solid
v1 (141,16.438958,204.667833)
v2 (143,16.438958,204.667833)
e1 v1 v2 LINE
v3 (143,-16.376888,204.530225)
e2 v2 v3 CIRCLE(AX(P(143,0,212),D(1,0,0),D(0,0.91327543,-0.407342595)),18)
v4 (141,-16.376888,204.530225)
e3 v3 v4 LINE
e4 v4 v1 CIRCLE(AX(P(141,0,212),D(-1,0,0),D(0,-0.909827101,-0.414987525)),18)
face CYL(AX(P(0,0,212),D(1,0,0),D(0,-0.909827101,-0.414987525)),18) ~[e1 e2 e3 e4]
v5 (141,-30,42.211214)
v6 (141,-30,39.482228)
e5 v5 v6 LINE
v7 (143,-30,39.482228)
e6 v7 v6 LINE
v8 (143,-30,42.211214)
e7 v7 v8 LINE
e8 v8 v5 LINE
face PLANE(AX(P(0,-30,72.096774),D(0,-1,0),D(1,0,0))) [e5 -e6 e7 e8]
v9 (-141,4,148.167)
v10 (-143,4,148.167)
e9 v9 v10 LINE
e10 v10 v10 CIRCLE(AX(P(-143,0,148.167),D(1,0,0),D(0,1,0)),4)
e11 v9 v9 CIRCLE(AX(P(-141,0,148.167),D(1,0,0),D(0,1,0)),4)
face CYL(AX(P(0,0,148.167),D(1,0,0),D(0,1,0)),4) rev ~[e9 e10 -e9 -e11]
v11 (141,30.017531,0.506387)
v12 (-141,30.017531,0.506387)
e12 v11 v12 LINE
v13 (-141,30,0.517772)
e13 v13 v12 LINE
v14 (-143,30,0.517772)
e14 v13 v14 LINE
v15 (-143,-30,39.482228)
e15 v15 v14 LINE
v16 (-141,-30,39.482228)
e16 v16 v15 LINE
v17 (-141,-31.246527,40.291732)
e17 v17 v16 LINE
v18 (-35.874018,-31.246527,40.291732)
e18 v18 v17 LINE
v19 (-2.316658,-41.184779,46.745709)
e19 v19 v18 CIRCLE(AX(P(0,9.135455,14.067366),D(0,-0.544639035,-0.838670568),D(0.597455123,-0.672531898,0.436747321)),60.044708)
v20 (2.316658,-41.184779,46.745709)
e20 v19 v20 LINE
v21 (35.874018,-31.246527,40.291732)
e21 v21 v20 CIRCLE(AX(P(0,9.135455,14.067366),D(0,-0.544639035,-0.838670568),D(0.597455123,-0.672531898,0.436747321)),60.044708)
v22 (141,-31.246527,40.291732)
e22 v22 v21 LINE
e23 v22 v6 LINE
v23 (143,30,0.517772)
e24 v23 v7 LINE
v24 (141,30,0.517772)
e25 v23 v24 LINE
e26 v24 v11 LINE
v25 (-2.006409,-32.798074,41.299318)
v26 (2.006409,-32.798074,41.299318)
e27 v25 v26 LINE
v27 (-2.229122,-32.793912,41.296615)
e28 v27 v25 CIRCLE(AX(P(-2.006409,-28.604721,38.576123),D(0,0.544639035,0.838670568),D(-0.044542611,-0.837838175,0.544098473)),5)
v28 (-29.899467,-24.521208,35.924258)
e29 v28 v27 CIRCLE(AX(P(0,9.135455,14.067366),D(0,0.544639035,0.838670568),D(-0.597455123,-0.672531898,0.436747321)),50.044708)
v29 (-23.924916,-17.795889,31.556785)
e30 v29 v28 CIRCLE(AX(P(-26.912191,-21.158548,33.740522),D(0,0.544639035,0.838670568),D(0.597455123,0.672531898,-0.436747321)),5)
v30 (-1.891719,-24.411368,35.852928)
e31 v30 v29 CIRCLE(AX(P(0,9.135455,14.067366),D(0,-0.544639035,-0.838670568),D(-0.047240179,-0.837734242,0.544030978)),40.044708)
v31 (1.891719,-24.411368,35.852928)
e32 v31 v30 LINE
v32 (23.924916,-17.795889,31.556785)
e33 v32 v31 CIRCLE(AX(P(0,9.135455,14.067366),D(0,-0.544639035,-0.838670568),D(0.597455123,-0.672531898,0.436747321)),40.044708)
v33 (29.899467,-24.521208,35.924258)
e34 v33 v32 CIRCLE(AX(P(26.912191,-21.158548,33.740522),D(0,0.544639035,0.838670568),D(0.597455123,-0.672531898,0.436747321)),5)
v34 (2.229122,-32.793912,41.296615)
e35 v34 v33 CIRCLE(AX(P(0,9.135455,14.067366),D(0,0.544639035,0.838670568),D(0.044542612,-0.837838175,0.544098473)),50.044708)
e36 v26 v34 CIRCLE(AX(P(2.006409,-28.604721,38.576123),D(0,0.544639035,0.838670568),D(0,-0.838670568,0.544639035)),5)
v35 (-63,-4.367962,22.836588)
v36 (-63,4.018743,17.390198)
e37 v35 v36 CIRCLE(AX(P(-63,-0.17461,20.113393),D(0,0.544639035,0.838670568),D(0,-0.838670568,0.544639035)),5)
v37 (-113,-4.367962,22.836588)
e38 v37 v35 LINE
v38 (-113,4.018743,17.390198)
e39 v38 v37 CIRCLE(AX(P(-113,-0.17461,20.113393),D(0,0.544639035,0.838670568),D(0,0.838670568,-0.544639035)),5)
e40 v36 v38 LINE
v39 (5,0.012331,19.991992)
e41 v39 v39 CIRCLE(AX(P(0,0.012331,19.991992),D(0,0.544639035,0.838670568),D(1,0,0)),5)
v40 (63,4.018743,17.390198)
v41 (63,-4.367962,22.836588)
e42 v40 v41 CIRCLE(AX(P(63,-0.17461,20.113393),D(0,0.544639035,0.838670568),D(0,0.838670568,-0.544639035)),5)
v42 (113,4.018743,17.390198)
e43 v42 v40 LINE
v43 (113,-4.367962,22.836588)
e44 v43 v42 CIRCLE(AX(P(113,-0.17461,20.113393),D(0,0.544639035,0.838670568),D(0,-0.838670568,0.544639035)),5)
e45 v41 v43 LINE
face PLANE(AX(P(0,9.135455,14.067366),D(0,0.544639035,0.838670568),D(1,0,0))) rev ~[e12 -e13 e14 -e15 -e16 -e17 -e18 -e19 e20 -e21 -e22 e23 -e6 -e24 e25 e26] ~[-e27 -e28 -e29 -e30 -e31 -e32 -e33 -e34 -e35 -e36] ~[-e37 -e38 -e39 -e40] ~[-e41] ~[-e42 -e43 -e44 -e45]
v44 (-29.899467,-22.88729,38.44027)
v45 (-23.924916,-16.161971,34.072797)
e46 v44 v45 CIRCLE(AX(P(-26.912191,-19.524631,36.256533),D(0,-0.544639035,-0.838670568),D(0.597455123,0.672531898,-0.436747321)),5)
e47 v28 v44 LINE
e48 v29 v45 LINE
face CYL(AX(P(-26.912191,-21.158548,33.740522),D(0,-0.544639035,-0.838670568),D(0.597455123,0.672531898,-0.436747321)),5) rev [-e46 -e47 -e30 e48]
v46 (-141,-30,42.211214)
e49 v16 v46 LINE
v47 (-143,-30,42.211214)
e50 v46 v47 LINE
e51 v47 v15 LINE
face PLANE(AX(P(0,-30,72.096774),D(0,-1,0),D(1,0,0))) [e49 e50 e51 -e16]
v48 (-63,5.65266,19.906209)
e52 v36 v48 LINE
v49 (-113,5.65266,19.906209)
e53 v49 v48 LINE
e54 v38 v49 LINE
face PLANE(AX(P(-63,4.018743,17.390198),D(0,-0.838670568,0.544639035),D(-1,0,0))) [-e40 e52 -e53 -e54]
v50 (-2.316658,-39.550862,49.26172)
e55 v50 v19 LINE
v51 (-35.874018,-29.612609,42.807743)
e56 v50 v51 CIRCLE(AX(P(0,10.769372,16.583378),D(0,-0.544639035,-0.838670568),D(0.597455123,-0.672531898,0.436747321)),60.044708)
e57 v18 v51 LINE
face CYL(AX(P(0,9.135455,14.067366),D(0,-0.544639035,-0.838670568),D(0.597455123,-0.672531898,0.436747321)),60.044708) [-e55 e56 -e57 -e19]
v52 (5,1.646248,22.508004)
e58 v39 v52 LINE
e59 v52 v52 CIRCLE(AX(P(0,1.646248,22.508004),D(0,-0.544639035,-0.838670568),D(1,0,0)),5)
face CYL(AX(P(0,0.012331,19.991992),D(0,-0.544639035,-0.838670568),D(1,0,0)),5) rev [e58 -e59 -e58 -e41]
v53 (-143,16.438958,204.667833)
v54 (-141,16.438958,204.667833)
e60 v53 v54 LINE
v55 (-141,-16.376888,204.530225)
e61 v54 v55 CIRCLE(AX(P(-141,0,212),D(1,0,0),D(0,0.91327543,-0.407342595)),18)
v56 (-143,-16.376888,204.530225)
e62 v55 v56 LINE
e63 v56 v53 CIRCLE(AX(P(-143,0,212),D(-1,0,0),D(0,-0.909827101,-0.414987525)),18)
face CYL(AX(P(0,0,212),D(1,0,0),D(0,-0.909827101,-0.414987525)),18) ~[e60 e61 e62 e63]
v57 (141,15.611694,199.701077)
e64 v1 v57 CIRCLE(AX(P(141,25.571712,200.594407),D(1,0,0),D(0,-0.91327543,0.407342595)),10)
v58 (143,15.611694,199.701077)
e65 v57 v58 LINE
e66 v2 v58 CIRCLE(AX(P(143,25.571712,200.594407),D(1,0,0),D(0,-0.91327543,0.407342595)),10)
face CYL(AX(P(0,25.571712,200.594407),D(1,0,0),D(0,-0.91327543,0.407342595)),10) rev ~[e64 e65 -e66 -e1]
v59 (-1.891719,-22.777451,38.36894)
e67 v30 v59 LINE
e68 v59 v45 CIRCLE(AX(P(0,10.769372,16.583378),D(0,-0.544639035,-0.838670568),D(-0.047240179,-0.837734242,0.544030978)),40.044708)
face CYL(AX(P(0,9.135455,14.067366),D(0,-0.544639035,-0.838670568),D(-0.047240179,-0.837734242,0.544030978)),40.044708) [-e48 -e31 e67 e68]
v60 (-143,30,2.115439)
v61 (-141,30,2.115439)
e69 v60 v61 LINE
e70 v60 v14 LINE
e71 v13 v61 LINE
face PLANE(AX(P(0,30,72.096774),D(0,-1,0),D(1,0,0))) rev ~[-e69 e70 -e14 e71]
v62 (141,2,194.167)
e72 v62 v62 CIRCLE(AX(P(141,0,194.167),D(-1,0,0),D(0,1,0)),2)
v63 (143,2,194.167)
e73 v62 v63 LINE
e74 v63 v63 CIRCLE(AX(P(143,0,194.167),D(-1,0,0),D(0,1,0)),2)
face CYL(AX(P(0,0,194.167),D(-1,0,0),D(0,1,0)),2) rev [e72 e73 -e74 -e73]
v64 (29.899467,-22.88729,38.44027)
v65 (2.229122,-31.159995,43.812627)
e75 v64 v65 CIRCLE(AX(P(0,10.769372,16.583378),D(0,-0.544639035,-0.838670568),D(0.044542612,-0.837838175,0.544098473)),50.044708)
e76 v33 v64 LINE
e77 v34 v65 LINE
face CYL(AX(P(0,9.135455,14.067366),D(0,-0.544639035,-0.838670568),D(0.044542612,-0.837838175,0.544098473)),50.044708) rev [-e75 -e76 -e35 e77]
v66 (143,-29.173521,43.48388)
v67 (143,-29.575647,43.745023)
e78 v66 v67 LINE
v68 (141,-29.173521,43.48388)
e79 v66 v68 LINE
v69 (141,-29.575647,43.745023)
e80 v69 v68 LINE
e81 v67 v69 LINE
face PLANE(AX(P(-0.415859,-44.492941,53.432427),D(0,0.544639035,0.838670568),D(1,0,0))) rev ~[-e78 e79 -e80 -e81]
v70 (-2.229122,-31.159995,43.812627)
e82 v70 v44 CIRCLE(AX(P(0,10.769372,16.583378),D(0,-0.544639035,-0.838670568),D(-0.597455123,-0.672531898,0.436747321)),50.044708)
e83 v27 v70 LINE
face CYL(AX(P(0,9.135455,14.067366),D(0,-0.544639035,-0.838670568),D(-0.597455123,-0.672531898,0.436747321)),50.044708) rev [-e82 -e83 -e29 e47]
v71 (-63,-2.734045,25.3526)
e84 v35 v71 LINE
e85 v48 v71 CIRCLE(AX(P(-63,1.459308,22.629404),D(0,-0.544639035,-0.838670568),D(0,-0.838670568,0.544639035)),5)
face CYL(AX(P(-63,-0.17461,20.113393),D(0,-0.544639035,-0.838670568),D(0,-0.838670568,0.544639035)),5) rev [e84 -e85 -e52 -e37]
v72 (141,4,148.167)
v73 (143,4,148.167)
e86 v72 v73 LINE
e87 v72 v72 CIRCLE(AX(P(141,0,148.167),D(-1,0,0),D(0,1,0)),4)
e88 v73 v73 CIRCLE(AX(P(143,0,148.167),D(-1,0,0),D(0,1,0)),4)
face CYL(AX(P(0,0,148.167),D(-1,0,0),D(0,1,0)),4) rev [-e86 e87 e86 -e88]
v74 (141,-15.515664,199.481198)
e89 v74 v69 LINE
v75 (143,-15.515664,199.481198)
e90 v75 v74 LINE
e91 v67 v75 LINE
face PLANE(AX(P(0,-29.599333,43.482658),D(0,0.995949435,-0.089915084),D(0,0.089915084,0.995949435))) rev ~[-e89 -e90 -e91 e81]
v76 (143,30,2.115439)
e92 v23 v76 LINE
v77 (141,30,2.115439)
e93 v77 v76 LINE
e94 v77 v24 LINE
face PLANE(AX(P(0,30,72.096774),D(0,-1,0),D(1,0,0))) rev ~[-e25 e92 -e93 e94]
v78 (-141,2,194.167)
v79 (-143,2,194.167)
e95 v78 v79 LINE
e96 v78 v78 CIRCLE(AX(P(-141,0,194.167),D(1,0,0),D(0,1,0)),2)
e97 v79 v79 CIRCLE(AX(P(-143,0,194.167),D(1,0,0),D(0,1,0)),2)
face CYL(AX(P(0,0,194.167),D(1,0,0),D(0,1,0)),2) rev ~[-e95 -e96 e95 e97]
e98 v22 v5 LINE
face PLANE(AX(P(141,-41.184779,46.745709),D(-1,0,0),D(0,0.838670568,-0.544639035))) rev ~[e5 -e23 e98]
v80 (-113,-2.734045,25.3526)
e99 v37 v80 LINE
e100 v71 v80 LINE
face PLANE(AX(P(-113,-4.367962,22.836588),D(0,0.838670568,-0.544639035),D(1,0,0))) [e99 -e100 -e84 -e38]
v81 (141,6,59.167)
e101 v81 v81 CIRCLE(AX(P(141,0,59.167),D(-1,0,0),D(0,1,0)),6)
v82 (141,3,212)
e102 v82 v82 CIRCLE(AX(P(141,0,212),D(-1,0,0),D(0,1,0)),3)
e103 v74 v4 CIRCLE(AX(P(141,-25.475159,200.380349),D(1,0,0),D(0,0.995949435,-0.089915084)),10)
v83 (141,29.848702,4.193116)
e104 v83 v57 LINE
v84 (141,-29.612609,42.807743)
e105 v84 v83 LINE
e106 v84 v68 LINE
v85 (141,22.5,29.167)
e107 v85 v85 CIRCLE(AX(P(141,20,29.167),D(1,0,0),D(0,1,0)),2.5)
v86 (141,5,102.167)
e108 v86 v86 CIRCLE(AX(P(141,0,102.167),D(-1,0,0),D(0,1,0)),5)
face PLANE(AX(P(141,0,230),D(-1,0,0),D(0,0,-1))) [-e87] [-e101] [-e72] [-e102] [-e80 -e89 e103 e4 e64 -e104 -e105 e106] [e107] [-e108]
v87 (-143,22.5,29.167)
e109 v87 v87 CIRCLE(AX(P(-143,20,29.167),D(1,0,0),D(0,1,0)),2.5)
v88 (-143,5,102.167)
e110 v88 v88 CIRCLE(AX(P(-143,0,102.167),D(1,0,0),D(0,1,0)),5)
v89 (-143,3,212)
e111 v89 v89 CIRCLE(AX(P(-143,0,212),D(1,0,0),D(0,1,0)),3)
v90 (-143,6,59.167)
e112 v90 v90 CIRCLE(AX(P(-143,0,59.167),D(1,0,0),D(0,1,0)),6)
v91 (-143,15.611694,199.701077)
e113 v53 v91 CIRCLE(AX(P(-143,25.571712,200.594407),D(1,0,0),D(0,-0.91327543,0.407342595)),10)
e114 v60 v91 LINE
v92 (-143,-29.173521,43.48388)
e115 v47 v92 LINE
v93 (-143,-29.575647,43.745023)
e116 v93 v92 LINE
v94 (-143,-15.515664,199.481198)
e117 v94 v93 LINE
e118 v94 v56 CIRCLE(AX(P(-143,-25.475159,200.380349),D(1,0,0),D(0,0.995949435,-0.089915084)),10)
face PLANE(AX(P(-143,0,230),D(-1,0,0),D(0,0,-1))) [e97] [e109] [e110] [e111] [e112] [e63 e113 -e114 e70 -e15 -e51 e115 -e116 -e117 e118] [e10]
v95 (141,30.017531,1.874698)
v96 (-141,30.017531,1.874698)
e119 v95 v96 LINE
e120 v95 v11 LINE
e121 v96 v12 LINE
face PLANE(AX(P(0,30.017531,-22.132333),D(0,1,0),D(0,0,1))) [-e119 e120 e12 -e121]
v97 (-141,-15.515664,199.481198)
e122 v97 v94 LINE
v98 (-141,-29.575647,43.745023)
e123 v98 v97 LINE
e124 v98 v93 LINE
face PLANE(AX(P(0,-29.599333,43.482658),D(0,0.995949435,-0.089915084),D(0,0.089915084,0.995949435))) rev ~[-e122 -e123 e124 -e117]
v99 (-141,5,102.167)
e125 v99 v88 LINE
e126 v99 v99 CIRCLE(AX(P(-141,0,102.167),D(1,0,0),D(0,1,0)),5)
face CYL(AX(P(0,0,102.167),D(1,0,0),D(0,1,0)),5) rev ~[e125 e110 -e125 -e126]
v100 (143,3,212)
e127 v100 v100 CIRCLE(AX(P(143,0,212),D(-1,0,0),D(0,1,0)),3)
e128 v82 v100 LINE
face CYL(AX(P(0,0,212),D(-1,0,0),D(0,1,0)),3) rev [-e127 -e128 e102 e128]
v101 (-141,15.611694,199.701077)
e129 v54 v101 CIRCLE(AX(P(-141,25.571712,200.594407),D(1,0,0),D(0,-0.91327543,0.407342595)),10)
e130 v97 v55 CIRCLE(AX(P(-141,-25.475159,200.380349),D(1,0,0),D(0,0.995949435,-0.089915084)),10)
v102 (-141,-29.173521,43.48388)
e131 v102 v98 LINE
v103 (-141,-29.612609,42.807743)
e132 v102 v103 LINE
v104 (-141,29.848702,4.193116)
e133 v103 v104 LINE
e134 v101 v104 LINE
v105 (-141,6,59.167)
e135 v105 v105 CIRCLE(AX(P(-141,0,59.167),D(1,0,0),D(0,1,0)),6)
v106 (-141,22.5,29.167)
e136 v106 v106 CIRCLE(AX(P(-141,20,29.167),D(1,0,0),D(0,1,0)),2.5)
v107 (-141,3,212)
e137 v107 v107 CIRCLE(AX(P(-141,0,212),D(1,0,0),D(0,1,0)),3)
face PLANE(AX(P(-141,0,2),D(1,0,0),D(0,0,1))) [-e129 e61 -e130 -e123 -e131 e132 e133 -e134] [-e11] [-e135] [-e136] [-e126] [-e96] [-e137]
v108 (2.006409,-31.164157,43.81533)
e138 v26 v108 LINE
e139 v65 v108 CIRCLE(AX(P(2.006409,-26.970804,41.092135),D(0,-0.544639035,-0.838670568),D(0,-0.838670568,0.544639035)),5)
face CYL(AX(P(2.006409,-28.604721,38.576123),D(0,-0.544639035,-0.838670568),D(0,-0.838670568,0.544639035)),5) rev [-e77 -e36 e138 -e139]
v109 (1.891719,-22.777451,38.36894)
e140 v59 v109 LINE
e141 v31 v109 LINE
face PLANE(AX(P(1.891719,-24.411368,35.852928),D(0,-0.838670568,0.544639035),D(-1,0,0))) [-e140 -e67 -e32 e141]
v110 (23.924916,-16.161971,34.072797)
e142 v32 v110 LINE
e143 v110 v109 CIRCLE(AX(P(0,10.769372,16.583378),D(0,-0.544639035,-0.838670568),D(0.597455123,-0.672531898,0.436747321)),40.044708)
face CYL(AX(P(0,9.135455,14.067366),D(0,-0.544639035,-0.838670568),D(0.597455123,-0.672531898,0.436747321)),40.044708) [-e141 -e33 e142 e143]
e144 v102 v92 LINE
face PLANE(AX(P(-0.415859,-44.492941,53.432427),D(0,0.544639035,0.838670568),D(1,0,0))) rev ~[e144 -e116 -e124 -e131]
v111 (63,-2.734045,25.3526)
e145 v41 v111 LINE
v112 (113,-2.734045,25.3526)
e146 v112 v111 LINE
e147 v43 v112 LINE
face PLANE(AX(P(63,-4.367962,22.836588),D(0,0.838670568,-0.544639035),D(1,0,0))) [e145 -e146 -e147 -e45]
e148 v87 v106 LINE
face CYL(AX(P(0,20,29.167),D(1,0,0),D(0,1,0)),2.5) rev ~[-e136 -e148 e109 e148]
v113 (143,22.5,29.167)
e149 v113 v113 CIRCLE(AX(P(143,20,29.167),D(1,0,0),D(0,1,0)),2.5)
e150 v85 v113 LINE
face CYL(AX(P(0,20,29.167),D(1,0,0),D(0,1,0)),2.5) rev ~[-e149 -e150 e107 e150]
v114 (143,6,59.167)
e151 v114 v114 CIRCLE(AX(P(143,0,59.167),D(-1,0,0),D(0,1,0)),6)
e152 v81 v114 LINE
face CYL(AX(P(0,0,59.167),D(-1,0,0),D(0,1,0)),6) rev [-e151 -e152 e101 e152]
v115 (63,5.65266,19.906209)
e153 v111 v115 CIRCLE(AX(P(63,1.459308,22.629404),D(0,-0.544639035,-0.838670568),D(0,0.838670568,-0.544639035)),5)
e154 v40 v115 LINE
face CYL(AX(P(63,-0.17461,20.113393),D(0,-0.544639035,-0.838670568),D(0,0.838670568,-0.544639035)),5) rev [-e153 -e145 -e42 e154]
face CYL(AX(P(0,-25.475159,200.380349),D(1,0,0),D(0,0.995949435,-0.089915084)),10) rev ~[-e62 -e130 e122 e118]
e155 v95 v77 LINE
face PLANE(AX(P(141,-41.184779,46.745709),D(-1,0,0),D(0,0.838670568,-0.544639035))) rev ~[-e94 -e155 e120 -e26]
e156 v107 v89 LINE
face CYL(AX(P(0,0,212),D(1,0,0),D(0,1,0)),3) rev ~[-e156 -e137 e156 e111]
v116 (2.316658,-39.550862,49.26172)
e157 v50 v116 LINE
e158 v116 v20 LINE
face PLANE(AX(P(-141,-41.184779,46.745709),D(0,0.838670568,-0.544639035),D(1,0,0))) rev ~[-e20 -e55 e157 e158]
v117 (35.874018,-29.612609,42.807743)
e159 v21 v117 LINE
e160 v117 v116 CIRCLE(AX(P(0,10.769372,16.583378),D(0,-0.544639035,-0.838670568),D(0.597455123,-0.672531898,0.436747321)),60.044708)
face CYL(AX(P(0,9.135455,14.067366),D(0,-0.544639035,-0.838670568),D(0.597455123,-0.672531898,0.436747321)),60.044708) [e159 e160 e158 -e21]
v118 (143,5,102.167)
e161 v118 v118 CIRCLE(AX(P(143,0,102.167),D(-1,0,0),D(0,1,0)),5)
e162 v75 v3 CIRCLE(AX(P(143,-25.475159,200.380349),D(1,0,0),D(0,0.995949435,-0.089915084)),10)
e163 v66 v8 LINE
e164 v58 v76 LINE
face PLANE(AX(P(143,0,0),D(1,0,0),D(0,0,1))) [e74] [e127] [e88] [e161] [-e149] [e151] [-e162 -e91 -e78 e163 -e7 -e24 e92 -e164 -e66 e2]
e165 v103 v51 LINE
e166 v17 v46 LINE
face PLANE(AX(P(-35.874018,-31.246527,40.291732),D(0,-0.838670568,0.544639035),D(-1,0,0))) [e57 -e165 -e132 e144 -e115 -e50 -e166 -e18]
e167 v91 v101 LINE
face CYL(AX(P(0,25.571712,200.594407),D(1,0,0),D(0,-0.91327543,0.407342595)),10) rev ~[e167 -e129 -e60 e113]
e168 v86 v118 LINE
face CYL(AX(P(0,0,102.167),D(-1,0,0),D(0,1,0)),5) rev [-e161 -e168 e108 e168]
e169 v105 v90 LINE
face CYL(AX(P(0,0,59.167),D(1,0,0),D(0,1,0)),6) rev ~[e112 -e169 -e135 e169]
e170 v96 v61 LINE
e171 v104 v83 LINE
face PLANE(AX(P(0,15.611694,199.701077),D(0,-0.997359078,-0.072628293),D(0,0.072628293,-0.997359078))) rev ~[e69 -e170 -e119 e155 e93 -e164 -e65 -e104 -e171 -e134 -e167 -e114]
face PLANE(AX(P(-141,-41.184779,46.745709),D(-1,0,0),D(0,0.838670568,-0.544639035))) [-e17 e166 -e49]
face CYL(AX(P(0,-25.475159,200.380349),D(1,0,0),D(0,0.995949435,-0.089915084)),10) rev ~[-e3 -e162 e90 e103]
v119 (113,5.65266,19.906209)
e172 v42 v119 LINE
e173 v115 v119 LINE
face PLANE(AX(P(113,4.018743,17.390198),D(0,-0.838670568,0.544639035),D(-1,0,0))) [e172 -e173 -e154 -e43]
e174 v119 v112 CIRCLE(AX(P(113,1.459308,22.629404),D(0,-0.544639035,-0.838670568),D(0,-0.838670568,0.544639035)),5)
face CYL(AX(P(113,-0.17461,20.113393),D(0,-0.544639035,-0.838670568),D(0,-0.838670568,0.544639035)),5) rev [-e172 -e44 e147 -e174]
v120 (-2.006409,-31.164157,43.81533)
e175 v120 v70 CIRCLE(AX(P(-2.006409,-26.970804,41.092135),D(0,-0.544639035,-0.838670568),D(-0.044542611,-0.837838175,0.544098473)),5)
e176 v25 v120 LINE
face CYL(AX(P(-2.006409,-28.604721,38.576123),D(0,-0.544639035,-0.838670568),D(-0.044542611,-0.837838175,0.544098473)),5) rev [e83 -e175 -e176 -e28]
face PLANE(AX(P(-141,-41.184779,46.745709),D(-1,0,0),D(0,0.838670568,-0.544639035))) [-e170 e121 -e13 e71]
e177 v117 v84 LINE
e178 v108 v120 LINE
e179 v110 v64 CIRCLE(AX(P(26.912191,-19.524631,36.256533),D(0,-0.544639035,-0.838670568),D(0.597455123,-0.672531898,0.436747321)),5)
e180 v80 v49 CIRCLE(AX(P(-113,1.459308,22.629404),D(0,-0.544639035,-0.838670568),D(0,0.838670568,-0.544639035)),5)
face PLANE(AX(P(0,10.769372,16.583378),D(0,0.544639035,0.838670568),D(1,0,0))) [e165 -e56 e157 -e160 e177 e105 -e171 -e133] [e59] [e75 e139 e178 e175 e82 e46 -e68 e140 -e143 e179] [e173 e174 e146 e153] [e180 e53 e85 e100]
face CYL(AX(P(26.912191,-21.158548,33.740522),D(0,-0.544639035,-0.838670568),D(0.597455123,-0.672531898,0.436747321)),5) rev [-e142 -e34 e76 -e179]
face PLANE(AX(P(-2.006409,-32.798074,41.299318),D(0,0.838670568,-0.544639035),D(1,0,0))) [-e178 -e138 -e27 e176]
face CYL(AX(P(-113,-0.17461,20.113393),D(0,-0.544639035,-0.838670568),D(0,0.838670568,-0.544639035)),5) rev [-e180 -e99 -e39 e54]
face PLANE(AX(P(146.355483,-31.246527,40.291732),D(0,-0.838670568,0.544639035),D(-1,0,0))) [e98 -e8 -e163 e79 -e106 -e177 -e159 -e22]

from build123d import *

# Parameters (mm, degrees)
F1_DEPTH  = 30
F5_W      = 282
F5_H      = 120
F6_DEPTH  = 3
F7_W      = 43.7729824334
F7_H      = 28.8367732428
F8_DEPTH  = 200
F9_W      = 426.6595542431
F9_H      = 302.5457262993
F10_DEPTH = 178.83968
F12_DEPTH = 3.8062
F13_R     = 5
F14_DEPTH = 5.03518
F16_DEPTH = 250
F17_R     = 3
F17_R_2   = 2
F17_R_3   = 4
F17_R_4   = 5
F17_R_5   = 6
F17_R_6   = 2.5
F18_DEPTH = 160


with BuildPart() as f1:
    # F0 (on Front) → F1 (new body, symmetric)
    with BuildSketch(Plane.XZ):
        Polygon((-143, 230), (-143, 0), (143, 0), (143, 230), (141, 230), (141, 2), (-141, 2), (-141, 230), align=None)
    extrude(amount=F1_DEPTH, both=True)

    # F5 (on line) → F6 (join)
    with BuildSketch(Plane(origin=(0, 9.1354545764, 14.0673664308), x_dir=(1, 0, 0), z_dir=(0, 0.544639035, 0.8386705679))):
        Rectangle(F5_W, F5_H)
    extrude(amount=F6_DEPTH)

    # F7 (on Right) → F8 (cut, symmetric)
    with BuildSketch(Plane.YZ):
        with Locations((51.9040221355, -7.7139467467)):
            Rectangle(F7_W, F7_H)
    extrude(amount=F8_DEPTH, both=True, mode=Mode.SUBTRACT)

    # F9 (on line) → F10 (cut)
    with BuildSketch(Plane(origin=(0, 9.1354545764, 14.0673664308), x_dir=(1, 0, 0), z_dir=(0, 0.544639035, 0.8386705679))):
        Rectangle(F9_W, F9_H)
    extrude(amount=-F10_DEPTH, mode=Mode.SUBTRACT)

    # F11 (on line) → F12 (cut)
    with BuildSketch(Plane(origin=(0, 9.1354545764, 14.0673664308), x_dir=(1, 0, 0), z_dir=(0, 0.544639035, 0.8386705679))):
        with BuildLine():
            Line((-35.8740181322, -48.1499919599), (-147.1929774903, -48.1499919599))
            Line((-147.1929774903, -48.1499919599), (-147.1929774903, -83.3061976281))
            Line((-147.1929774903, -83.3061976281), (146.3554831755, -83.3061976281))
            Line((146.3554831755, -83.3061976281), (146.3554831755, -48.1499919599))
            Line((146.3554831755, -48.1499919599), (35.8740181322, -48.1499919599))
            ThreePointArc((35.8740181322, -48.1499919599), (0, -60.0447075327), (-35.8740181322, -48.1499919599))
        make_face()
    extrude(amount=F12_DEPTH, mode=Mode.SUBTRACT)

    # F13 (on line) → F14 (cut)
    with BuildSketch(Plane(origin=(0, 9.1354545764, 14.0673664308), x_dir=(1, 0, 0), z_dir=(0, 0.544639035, 0.8386705679))):
        with Locations((0, -10.8780780347)):
            Circle(F13_R)
        with BuildLine():
            ThreePointArc((0, -40.4202267205), (2.1637354956, -42.2413960688), (2.9932901548, -44.9451431276))
            ThreePointArc((2.9932901548, -44.9451431276), (4.9922933203, -44.7672054535), (6.9813866372, -44.5004035637))
            ThreePointArc((6.9813866372, -44.5004035637), (5.3606612707, -41.2920368002), (2.0064089085, -40))
            Line((2.0064089085, -40), (1.8917191601, -40))
            ThreePointArc((1.8917191601, -40), (1.8377091807, -40.0025177501), (1.7836958509, -40.0049625733))
            ThreePointArc((1.7836958509, -40.0049625733), (0.8726729327, -40.1302317573), (0, -40.4202267205))
        make_face()
        with BuildLine():
            ThreePointArc((6.9813866372, -44.5004035637), (4.9922933203, -44.7672054535), (2.9932901548, -44.9451431276))
            ThreePointArc((2.9932901548, -44.9451431276), (2.1937501825, -47.7126856822), (0, -49.5797732795))
            ThreePointArc((0, -49.5797732795), (0.9814372986, -49.8938158117), (2.0064089085, -50))
            ThreePointArc((2.0064089085, -50), (2.1177930783, -49.9987592027), (2.2291219661, -49.9950374267))
            ThreePointArc((2.2291219661, -49.9950374267), (5.7881740651, -48.2708182922), (6.9813866372, -44.5004035637))
        make_face()
        with BuildLine():
            ThreePointArc((2.0064089085, -40), (5.3606612707, -41.2920368002), (6.9813866372, -44.5004035637))
            ThreePointArc((6.9813866372, -44.5004035637), (5.7881740651, -48.2708182922), (2.2291219661, -49.9950374267))
            ThreePointArc((2.2291219661, -49.9950374267), (16.8043601395, -47.1390096665), (29.8994669009, -40.1309684792))
            ThreePointArc((29.8994669009, -40.1309684792), (30.9217030257, -33.1341811231), (23.9249156696, -32.1119449984))
            ThreePointArc((23.9249156696, -32.1119449984), (13.4974075811, -37.7014401578), (1.8917191601, -40))
            Line((1.8917191601, -40), (2.0064089085, -40))
        make_face()
        with BuildLine():
            ThreePointArc((-1.7836958509, -40.0049625733), (-0.8726729327, -40.1302317574), (0, -40.4202267205))
            ThreePointArc((0, -40.4202267205), (0.8726729327, -40.1302317573), (1.7836958509, -40.0049625733))
            ThreePointArc((1.7836958509, -40.0049625733), (1.8377091807, -40.0025177501), (1.8917191601, -40))
            Line((1.8917191601, -40), (-1.8917191601, -40))
            ThreePointArc((-1.8917191601, -40), (-1.8377091807, -40.0025177501), (-1.7836958509, -40.0049625733))
        make_face()
        with BuildLine():
            ThreePointArc((-2.9932901548, -44.9451431276), (-2.1637354956, -42.2413960688), (0, -40.4202267205))
            ThreePointArc((0, -40.4202267205), (-0.8726729327, -40.1302317574), (-1.7836958509, -40.0049625733))
            ThreePointArc((-1.7836958509, -40.0049625733), (-1.8377091807, -40.0025177501), (-1.8917191601, -40))
            Line((-1.8917191601, -40), (-2.0064089085, -40))
            ThreePointArc((-2.0064089085, -40), (-5.3606612707, -41.2920368002), (-6.9813866372, -44.5004035637))
            ThreePointArc((-6.9813866372, -44.5004035637), (-4.9922933203, -44.7672054535), (-2.9932901548, -44.9451431276))
        make_face()
        with BuildLine():
            ThreePointArc((-2.0064089085, -50), (-0.9814372986, -49.8938158117), (0, -49.5797732795))
            ThreePointArc((0, -49.5797732795), (-2.1937501825, -47.7126856822), (-2.9932901548, -44.9451431276))
            ThreePointArc((-2.9932901548, -44.9451431276), (-4.9922933203, -44.7672054535), (-6.9813866372, -44.5004035637))
            ThreePointArc((-6.9813866372, -44.5004035637), (-5.7881740651, -48.2708182922), (-2.2291219661, -49.9950374267))
            ThreePointArc((-2.2291219661, -49.9950374267), (-2.1177930783, -49.9987592027), (-2.0064089085, -50))
        make_face()
        with BuildLine():
            ThreePointArc((2.0064089085, -50), (0.9814372986, -49.8938158117), (0, -49.5797732795))
            ThreePointArc((0, -49.5797732795), (-0.9814372986, -49.8938158117), (-2.0064089085, -50))
            Line((-2.0064089085, -50), (2.0064089085, -50))
        make_face()
        with BuildLine():
            ThreePointArc((-2.2291219661, -49.9950374267), (-5.7881740651, -48.2708182922), (-6.9813866372, -44.5004035637))
            ThreePointArc((-6.9813866372, -44.5004035637), (-5.3606612707, -41.2920368002), (-2.0064089085, -40))
            Line((-2.0064089085, -40), (-1.8917191601, -40))
            ThreePointArc((-1.8917191601, -40), (-13.4974075811, -37.7014401578), (-23.9249156696, -32.1119449984))
            ThreePointArc((-23.9249156696, -32.1119449984), (-30.9217030257, -33.1341811231), (-29.8994669009, -40.1309684792))
            ThreePointArc((-29.8994669009, -40.1309684792), (-16.8043601395, -47.1390096665), (-2.2291219661, -49.9950374267))
        make_face()
        with BuildLine():
            ThreePointArc((63, -6.1009786912), (58, -11.1009786912), (63, -16.1009786912))
            Line((63, -16.1009786912), (113, -16.1009786912))
            ThreePointArc((113, -16.1009786912), (118, -11.1009786912), (113, -6.1009786912))
            Line((113, -6.1009786912), (63, -6.1009786912))
        make_face()
        with BuildLine():
            ThreePointArc((-63, -16.1009786912), (-58, -11.1009786912), (-63, -6.1009786912))
            Line((-63, -6.1009786912), (-113, -6.1009786912))
            ThreePointArc((-113, -6.1009786912), (-118, -11.1009786912), (-113, -16.1009786912))
            Line((-113, -16.1009786912), (-63, -16.1009786912))
        make_face()
        with BuildLine():
            Line((-2.0064089085, -45), (2.0064089085, -45))
            ThreePointArc((2.0064089085, -45), (2.5, -44.9752785062), (2.9932901548, -44.9451431276))
            ThreePointArc((2.9932901548, -44.9451431276), (2.1637354956, -42.2413960688), (0, -40.4202267205))
            ThreePointArc((0, -40.4202267205), (-2.1637354956, -42.2413960688), (-2.9932901548, -44.9451431276))
            ThreePointArc((-2.9932901548, -44.9451431276), (-2.5, -44.9752785062), (-2.0064089085, -45))
        make_face()
        with BuildLine():
            ThreePointArc((2.9932901548, -44.9451431276), (2.5, -44.9752785062), (2.0064089085, -45))
            Line((2.0064089085, -45), (-2.0064089085, -45))
            ThreePointArc((-2.0064089085, -45), (-2.5, -44.9752785062), (-2.9932901548, -44.9451431276))
            ThreePointArc((-2.9932901548, -44.9451431276), (-2.1937501825, -47.7126856822), (0, -49.5797732795))
            ThreePointArc((0, -49.5797732795), (2.1937501825, -47.7126856822), (2.9932901548, -44.9451431276))
        make_face()
    extrude(amount=F14_DEPTH, mode=Mode.SUBTRACT)

    # F15 (on Right) → F16 (cut, symmetric)
    with BuildSketch(Plane.YZ):
        with BuildLine():
            ThreePointArc((-16.3768878257, 204.5302245586), (-0.0754798588, 229.9998417435), (16.4389577327, 204.6678332901))
            ThreePointArc((16.4389577327, 204.6678332901), (15.7076024778, 202.2373750115), (15.6116939447, 199.7010766248))
            Line((15.6116939447, 199.7010766248), (30.1540475339, 0))
            Line((30.1540475339, 0), (77.6267153025, 0))
            Line((77.6267153025, 0), (77.6267153025, 43.465353315))
            Line((77.6267153025, 43.465353315), (77.6267153025, 273.465353315))
            Line((77.6267153025, 273.465353315), (-42.3732846975, 273.465353315))
            Line((-42.3732846975, 273.465353315), (-42.3732846975, 52.13252455))
            Line((-42.3732846975, 52.13252455), (-29.599333182, 43.482657522))
            Line((-29.599333182, 43.482657522), (-15.5156644868, 199.4811984753))
            ThreePointArc((-15.5156644868, 199.4811984753), (-15.6175338066, 202.0617858131), (-16.3768878257, 204.5302245586))
        make_face()
    extrude(amount=F16_DEPTH, both=True, mode=Mode.SUBTRACT)

    # F17 (on Right) → F18 (cut, symmetric)
    with BuildSketch(Plane.YZ):
        with Locations((0, 212)):
            Circle(F17_R)
        with Locations((0, 194.167)):
            Circle(F17_R_2)
        with Locations((0, 148.167)):
            Circle(F17_R_3)
        with Locations((0, 102.167)):
            Circle(F17_R_4)
        with Locations((0, 59.167)):
            Circle(F17_R_5)
        with Locations((20, 29.167)):
            Circle(F17_R_6)
    extrude(amount=F18_DEPTH, both=True, mode=Mode.SUBTRACT)


solid = f1.part
